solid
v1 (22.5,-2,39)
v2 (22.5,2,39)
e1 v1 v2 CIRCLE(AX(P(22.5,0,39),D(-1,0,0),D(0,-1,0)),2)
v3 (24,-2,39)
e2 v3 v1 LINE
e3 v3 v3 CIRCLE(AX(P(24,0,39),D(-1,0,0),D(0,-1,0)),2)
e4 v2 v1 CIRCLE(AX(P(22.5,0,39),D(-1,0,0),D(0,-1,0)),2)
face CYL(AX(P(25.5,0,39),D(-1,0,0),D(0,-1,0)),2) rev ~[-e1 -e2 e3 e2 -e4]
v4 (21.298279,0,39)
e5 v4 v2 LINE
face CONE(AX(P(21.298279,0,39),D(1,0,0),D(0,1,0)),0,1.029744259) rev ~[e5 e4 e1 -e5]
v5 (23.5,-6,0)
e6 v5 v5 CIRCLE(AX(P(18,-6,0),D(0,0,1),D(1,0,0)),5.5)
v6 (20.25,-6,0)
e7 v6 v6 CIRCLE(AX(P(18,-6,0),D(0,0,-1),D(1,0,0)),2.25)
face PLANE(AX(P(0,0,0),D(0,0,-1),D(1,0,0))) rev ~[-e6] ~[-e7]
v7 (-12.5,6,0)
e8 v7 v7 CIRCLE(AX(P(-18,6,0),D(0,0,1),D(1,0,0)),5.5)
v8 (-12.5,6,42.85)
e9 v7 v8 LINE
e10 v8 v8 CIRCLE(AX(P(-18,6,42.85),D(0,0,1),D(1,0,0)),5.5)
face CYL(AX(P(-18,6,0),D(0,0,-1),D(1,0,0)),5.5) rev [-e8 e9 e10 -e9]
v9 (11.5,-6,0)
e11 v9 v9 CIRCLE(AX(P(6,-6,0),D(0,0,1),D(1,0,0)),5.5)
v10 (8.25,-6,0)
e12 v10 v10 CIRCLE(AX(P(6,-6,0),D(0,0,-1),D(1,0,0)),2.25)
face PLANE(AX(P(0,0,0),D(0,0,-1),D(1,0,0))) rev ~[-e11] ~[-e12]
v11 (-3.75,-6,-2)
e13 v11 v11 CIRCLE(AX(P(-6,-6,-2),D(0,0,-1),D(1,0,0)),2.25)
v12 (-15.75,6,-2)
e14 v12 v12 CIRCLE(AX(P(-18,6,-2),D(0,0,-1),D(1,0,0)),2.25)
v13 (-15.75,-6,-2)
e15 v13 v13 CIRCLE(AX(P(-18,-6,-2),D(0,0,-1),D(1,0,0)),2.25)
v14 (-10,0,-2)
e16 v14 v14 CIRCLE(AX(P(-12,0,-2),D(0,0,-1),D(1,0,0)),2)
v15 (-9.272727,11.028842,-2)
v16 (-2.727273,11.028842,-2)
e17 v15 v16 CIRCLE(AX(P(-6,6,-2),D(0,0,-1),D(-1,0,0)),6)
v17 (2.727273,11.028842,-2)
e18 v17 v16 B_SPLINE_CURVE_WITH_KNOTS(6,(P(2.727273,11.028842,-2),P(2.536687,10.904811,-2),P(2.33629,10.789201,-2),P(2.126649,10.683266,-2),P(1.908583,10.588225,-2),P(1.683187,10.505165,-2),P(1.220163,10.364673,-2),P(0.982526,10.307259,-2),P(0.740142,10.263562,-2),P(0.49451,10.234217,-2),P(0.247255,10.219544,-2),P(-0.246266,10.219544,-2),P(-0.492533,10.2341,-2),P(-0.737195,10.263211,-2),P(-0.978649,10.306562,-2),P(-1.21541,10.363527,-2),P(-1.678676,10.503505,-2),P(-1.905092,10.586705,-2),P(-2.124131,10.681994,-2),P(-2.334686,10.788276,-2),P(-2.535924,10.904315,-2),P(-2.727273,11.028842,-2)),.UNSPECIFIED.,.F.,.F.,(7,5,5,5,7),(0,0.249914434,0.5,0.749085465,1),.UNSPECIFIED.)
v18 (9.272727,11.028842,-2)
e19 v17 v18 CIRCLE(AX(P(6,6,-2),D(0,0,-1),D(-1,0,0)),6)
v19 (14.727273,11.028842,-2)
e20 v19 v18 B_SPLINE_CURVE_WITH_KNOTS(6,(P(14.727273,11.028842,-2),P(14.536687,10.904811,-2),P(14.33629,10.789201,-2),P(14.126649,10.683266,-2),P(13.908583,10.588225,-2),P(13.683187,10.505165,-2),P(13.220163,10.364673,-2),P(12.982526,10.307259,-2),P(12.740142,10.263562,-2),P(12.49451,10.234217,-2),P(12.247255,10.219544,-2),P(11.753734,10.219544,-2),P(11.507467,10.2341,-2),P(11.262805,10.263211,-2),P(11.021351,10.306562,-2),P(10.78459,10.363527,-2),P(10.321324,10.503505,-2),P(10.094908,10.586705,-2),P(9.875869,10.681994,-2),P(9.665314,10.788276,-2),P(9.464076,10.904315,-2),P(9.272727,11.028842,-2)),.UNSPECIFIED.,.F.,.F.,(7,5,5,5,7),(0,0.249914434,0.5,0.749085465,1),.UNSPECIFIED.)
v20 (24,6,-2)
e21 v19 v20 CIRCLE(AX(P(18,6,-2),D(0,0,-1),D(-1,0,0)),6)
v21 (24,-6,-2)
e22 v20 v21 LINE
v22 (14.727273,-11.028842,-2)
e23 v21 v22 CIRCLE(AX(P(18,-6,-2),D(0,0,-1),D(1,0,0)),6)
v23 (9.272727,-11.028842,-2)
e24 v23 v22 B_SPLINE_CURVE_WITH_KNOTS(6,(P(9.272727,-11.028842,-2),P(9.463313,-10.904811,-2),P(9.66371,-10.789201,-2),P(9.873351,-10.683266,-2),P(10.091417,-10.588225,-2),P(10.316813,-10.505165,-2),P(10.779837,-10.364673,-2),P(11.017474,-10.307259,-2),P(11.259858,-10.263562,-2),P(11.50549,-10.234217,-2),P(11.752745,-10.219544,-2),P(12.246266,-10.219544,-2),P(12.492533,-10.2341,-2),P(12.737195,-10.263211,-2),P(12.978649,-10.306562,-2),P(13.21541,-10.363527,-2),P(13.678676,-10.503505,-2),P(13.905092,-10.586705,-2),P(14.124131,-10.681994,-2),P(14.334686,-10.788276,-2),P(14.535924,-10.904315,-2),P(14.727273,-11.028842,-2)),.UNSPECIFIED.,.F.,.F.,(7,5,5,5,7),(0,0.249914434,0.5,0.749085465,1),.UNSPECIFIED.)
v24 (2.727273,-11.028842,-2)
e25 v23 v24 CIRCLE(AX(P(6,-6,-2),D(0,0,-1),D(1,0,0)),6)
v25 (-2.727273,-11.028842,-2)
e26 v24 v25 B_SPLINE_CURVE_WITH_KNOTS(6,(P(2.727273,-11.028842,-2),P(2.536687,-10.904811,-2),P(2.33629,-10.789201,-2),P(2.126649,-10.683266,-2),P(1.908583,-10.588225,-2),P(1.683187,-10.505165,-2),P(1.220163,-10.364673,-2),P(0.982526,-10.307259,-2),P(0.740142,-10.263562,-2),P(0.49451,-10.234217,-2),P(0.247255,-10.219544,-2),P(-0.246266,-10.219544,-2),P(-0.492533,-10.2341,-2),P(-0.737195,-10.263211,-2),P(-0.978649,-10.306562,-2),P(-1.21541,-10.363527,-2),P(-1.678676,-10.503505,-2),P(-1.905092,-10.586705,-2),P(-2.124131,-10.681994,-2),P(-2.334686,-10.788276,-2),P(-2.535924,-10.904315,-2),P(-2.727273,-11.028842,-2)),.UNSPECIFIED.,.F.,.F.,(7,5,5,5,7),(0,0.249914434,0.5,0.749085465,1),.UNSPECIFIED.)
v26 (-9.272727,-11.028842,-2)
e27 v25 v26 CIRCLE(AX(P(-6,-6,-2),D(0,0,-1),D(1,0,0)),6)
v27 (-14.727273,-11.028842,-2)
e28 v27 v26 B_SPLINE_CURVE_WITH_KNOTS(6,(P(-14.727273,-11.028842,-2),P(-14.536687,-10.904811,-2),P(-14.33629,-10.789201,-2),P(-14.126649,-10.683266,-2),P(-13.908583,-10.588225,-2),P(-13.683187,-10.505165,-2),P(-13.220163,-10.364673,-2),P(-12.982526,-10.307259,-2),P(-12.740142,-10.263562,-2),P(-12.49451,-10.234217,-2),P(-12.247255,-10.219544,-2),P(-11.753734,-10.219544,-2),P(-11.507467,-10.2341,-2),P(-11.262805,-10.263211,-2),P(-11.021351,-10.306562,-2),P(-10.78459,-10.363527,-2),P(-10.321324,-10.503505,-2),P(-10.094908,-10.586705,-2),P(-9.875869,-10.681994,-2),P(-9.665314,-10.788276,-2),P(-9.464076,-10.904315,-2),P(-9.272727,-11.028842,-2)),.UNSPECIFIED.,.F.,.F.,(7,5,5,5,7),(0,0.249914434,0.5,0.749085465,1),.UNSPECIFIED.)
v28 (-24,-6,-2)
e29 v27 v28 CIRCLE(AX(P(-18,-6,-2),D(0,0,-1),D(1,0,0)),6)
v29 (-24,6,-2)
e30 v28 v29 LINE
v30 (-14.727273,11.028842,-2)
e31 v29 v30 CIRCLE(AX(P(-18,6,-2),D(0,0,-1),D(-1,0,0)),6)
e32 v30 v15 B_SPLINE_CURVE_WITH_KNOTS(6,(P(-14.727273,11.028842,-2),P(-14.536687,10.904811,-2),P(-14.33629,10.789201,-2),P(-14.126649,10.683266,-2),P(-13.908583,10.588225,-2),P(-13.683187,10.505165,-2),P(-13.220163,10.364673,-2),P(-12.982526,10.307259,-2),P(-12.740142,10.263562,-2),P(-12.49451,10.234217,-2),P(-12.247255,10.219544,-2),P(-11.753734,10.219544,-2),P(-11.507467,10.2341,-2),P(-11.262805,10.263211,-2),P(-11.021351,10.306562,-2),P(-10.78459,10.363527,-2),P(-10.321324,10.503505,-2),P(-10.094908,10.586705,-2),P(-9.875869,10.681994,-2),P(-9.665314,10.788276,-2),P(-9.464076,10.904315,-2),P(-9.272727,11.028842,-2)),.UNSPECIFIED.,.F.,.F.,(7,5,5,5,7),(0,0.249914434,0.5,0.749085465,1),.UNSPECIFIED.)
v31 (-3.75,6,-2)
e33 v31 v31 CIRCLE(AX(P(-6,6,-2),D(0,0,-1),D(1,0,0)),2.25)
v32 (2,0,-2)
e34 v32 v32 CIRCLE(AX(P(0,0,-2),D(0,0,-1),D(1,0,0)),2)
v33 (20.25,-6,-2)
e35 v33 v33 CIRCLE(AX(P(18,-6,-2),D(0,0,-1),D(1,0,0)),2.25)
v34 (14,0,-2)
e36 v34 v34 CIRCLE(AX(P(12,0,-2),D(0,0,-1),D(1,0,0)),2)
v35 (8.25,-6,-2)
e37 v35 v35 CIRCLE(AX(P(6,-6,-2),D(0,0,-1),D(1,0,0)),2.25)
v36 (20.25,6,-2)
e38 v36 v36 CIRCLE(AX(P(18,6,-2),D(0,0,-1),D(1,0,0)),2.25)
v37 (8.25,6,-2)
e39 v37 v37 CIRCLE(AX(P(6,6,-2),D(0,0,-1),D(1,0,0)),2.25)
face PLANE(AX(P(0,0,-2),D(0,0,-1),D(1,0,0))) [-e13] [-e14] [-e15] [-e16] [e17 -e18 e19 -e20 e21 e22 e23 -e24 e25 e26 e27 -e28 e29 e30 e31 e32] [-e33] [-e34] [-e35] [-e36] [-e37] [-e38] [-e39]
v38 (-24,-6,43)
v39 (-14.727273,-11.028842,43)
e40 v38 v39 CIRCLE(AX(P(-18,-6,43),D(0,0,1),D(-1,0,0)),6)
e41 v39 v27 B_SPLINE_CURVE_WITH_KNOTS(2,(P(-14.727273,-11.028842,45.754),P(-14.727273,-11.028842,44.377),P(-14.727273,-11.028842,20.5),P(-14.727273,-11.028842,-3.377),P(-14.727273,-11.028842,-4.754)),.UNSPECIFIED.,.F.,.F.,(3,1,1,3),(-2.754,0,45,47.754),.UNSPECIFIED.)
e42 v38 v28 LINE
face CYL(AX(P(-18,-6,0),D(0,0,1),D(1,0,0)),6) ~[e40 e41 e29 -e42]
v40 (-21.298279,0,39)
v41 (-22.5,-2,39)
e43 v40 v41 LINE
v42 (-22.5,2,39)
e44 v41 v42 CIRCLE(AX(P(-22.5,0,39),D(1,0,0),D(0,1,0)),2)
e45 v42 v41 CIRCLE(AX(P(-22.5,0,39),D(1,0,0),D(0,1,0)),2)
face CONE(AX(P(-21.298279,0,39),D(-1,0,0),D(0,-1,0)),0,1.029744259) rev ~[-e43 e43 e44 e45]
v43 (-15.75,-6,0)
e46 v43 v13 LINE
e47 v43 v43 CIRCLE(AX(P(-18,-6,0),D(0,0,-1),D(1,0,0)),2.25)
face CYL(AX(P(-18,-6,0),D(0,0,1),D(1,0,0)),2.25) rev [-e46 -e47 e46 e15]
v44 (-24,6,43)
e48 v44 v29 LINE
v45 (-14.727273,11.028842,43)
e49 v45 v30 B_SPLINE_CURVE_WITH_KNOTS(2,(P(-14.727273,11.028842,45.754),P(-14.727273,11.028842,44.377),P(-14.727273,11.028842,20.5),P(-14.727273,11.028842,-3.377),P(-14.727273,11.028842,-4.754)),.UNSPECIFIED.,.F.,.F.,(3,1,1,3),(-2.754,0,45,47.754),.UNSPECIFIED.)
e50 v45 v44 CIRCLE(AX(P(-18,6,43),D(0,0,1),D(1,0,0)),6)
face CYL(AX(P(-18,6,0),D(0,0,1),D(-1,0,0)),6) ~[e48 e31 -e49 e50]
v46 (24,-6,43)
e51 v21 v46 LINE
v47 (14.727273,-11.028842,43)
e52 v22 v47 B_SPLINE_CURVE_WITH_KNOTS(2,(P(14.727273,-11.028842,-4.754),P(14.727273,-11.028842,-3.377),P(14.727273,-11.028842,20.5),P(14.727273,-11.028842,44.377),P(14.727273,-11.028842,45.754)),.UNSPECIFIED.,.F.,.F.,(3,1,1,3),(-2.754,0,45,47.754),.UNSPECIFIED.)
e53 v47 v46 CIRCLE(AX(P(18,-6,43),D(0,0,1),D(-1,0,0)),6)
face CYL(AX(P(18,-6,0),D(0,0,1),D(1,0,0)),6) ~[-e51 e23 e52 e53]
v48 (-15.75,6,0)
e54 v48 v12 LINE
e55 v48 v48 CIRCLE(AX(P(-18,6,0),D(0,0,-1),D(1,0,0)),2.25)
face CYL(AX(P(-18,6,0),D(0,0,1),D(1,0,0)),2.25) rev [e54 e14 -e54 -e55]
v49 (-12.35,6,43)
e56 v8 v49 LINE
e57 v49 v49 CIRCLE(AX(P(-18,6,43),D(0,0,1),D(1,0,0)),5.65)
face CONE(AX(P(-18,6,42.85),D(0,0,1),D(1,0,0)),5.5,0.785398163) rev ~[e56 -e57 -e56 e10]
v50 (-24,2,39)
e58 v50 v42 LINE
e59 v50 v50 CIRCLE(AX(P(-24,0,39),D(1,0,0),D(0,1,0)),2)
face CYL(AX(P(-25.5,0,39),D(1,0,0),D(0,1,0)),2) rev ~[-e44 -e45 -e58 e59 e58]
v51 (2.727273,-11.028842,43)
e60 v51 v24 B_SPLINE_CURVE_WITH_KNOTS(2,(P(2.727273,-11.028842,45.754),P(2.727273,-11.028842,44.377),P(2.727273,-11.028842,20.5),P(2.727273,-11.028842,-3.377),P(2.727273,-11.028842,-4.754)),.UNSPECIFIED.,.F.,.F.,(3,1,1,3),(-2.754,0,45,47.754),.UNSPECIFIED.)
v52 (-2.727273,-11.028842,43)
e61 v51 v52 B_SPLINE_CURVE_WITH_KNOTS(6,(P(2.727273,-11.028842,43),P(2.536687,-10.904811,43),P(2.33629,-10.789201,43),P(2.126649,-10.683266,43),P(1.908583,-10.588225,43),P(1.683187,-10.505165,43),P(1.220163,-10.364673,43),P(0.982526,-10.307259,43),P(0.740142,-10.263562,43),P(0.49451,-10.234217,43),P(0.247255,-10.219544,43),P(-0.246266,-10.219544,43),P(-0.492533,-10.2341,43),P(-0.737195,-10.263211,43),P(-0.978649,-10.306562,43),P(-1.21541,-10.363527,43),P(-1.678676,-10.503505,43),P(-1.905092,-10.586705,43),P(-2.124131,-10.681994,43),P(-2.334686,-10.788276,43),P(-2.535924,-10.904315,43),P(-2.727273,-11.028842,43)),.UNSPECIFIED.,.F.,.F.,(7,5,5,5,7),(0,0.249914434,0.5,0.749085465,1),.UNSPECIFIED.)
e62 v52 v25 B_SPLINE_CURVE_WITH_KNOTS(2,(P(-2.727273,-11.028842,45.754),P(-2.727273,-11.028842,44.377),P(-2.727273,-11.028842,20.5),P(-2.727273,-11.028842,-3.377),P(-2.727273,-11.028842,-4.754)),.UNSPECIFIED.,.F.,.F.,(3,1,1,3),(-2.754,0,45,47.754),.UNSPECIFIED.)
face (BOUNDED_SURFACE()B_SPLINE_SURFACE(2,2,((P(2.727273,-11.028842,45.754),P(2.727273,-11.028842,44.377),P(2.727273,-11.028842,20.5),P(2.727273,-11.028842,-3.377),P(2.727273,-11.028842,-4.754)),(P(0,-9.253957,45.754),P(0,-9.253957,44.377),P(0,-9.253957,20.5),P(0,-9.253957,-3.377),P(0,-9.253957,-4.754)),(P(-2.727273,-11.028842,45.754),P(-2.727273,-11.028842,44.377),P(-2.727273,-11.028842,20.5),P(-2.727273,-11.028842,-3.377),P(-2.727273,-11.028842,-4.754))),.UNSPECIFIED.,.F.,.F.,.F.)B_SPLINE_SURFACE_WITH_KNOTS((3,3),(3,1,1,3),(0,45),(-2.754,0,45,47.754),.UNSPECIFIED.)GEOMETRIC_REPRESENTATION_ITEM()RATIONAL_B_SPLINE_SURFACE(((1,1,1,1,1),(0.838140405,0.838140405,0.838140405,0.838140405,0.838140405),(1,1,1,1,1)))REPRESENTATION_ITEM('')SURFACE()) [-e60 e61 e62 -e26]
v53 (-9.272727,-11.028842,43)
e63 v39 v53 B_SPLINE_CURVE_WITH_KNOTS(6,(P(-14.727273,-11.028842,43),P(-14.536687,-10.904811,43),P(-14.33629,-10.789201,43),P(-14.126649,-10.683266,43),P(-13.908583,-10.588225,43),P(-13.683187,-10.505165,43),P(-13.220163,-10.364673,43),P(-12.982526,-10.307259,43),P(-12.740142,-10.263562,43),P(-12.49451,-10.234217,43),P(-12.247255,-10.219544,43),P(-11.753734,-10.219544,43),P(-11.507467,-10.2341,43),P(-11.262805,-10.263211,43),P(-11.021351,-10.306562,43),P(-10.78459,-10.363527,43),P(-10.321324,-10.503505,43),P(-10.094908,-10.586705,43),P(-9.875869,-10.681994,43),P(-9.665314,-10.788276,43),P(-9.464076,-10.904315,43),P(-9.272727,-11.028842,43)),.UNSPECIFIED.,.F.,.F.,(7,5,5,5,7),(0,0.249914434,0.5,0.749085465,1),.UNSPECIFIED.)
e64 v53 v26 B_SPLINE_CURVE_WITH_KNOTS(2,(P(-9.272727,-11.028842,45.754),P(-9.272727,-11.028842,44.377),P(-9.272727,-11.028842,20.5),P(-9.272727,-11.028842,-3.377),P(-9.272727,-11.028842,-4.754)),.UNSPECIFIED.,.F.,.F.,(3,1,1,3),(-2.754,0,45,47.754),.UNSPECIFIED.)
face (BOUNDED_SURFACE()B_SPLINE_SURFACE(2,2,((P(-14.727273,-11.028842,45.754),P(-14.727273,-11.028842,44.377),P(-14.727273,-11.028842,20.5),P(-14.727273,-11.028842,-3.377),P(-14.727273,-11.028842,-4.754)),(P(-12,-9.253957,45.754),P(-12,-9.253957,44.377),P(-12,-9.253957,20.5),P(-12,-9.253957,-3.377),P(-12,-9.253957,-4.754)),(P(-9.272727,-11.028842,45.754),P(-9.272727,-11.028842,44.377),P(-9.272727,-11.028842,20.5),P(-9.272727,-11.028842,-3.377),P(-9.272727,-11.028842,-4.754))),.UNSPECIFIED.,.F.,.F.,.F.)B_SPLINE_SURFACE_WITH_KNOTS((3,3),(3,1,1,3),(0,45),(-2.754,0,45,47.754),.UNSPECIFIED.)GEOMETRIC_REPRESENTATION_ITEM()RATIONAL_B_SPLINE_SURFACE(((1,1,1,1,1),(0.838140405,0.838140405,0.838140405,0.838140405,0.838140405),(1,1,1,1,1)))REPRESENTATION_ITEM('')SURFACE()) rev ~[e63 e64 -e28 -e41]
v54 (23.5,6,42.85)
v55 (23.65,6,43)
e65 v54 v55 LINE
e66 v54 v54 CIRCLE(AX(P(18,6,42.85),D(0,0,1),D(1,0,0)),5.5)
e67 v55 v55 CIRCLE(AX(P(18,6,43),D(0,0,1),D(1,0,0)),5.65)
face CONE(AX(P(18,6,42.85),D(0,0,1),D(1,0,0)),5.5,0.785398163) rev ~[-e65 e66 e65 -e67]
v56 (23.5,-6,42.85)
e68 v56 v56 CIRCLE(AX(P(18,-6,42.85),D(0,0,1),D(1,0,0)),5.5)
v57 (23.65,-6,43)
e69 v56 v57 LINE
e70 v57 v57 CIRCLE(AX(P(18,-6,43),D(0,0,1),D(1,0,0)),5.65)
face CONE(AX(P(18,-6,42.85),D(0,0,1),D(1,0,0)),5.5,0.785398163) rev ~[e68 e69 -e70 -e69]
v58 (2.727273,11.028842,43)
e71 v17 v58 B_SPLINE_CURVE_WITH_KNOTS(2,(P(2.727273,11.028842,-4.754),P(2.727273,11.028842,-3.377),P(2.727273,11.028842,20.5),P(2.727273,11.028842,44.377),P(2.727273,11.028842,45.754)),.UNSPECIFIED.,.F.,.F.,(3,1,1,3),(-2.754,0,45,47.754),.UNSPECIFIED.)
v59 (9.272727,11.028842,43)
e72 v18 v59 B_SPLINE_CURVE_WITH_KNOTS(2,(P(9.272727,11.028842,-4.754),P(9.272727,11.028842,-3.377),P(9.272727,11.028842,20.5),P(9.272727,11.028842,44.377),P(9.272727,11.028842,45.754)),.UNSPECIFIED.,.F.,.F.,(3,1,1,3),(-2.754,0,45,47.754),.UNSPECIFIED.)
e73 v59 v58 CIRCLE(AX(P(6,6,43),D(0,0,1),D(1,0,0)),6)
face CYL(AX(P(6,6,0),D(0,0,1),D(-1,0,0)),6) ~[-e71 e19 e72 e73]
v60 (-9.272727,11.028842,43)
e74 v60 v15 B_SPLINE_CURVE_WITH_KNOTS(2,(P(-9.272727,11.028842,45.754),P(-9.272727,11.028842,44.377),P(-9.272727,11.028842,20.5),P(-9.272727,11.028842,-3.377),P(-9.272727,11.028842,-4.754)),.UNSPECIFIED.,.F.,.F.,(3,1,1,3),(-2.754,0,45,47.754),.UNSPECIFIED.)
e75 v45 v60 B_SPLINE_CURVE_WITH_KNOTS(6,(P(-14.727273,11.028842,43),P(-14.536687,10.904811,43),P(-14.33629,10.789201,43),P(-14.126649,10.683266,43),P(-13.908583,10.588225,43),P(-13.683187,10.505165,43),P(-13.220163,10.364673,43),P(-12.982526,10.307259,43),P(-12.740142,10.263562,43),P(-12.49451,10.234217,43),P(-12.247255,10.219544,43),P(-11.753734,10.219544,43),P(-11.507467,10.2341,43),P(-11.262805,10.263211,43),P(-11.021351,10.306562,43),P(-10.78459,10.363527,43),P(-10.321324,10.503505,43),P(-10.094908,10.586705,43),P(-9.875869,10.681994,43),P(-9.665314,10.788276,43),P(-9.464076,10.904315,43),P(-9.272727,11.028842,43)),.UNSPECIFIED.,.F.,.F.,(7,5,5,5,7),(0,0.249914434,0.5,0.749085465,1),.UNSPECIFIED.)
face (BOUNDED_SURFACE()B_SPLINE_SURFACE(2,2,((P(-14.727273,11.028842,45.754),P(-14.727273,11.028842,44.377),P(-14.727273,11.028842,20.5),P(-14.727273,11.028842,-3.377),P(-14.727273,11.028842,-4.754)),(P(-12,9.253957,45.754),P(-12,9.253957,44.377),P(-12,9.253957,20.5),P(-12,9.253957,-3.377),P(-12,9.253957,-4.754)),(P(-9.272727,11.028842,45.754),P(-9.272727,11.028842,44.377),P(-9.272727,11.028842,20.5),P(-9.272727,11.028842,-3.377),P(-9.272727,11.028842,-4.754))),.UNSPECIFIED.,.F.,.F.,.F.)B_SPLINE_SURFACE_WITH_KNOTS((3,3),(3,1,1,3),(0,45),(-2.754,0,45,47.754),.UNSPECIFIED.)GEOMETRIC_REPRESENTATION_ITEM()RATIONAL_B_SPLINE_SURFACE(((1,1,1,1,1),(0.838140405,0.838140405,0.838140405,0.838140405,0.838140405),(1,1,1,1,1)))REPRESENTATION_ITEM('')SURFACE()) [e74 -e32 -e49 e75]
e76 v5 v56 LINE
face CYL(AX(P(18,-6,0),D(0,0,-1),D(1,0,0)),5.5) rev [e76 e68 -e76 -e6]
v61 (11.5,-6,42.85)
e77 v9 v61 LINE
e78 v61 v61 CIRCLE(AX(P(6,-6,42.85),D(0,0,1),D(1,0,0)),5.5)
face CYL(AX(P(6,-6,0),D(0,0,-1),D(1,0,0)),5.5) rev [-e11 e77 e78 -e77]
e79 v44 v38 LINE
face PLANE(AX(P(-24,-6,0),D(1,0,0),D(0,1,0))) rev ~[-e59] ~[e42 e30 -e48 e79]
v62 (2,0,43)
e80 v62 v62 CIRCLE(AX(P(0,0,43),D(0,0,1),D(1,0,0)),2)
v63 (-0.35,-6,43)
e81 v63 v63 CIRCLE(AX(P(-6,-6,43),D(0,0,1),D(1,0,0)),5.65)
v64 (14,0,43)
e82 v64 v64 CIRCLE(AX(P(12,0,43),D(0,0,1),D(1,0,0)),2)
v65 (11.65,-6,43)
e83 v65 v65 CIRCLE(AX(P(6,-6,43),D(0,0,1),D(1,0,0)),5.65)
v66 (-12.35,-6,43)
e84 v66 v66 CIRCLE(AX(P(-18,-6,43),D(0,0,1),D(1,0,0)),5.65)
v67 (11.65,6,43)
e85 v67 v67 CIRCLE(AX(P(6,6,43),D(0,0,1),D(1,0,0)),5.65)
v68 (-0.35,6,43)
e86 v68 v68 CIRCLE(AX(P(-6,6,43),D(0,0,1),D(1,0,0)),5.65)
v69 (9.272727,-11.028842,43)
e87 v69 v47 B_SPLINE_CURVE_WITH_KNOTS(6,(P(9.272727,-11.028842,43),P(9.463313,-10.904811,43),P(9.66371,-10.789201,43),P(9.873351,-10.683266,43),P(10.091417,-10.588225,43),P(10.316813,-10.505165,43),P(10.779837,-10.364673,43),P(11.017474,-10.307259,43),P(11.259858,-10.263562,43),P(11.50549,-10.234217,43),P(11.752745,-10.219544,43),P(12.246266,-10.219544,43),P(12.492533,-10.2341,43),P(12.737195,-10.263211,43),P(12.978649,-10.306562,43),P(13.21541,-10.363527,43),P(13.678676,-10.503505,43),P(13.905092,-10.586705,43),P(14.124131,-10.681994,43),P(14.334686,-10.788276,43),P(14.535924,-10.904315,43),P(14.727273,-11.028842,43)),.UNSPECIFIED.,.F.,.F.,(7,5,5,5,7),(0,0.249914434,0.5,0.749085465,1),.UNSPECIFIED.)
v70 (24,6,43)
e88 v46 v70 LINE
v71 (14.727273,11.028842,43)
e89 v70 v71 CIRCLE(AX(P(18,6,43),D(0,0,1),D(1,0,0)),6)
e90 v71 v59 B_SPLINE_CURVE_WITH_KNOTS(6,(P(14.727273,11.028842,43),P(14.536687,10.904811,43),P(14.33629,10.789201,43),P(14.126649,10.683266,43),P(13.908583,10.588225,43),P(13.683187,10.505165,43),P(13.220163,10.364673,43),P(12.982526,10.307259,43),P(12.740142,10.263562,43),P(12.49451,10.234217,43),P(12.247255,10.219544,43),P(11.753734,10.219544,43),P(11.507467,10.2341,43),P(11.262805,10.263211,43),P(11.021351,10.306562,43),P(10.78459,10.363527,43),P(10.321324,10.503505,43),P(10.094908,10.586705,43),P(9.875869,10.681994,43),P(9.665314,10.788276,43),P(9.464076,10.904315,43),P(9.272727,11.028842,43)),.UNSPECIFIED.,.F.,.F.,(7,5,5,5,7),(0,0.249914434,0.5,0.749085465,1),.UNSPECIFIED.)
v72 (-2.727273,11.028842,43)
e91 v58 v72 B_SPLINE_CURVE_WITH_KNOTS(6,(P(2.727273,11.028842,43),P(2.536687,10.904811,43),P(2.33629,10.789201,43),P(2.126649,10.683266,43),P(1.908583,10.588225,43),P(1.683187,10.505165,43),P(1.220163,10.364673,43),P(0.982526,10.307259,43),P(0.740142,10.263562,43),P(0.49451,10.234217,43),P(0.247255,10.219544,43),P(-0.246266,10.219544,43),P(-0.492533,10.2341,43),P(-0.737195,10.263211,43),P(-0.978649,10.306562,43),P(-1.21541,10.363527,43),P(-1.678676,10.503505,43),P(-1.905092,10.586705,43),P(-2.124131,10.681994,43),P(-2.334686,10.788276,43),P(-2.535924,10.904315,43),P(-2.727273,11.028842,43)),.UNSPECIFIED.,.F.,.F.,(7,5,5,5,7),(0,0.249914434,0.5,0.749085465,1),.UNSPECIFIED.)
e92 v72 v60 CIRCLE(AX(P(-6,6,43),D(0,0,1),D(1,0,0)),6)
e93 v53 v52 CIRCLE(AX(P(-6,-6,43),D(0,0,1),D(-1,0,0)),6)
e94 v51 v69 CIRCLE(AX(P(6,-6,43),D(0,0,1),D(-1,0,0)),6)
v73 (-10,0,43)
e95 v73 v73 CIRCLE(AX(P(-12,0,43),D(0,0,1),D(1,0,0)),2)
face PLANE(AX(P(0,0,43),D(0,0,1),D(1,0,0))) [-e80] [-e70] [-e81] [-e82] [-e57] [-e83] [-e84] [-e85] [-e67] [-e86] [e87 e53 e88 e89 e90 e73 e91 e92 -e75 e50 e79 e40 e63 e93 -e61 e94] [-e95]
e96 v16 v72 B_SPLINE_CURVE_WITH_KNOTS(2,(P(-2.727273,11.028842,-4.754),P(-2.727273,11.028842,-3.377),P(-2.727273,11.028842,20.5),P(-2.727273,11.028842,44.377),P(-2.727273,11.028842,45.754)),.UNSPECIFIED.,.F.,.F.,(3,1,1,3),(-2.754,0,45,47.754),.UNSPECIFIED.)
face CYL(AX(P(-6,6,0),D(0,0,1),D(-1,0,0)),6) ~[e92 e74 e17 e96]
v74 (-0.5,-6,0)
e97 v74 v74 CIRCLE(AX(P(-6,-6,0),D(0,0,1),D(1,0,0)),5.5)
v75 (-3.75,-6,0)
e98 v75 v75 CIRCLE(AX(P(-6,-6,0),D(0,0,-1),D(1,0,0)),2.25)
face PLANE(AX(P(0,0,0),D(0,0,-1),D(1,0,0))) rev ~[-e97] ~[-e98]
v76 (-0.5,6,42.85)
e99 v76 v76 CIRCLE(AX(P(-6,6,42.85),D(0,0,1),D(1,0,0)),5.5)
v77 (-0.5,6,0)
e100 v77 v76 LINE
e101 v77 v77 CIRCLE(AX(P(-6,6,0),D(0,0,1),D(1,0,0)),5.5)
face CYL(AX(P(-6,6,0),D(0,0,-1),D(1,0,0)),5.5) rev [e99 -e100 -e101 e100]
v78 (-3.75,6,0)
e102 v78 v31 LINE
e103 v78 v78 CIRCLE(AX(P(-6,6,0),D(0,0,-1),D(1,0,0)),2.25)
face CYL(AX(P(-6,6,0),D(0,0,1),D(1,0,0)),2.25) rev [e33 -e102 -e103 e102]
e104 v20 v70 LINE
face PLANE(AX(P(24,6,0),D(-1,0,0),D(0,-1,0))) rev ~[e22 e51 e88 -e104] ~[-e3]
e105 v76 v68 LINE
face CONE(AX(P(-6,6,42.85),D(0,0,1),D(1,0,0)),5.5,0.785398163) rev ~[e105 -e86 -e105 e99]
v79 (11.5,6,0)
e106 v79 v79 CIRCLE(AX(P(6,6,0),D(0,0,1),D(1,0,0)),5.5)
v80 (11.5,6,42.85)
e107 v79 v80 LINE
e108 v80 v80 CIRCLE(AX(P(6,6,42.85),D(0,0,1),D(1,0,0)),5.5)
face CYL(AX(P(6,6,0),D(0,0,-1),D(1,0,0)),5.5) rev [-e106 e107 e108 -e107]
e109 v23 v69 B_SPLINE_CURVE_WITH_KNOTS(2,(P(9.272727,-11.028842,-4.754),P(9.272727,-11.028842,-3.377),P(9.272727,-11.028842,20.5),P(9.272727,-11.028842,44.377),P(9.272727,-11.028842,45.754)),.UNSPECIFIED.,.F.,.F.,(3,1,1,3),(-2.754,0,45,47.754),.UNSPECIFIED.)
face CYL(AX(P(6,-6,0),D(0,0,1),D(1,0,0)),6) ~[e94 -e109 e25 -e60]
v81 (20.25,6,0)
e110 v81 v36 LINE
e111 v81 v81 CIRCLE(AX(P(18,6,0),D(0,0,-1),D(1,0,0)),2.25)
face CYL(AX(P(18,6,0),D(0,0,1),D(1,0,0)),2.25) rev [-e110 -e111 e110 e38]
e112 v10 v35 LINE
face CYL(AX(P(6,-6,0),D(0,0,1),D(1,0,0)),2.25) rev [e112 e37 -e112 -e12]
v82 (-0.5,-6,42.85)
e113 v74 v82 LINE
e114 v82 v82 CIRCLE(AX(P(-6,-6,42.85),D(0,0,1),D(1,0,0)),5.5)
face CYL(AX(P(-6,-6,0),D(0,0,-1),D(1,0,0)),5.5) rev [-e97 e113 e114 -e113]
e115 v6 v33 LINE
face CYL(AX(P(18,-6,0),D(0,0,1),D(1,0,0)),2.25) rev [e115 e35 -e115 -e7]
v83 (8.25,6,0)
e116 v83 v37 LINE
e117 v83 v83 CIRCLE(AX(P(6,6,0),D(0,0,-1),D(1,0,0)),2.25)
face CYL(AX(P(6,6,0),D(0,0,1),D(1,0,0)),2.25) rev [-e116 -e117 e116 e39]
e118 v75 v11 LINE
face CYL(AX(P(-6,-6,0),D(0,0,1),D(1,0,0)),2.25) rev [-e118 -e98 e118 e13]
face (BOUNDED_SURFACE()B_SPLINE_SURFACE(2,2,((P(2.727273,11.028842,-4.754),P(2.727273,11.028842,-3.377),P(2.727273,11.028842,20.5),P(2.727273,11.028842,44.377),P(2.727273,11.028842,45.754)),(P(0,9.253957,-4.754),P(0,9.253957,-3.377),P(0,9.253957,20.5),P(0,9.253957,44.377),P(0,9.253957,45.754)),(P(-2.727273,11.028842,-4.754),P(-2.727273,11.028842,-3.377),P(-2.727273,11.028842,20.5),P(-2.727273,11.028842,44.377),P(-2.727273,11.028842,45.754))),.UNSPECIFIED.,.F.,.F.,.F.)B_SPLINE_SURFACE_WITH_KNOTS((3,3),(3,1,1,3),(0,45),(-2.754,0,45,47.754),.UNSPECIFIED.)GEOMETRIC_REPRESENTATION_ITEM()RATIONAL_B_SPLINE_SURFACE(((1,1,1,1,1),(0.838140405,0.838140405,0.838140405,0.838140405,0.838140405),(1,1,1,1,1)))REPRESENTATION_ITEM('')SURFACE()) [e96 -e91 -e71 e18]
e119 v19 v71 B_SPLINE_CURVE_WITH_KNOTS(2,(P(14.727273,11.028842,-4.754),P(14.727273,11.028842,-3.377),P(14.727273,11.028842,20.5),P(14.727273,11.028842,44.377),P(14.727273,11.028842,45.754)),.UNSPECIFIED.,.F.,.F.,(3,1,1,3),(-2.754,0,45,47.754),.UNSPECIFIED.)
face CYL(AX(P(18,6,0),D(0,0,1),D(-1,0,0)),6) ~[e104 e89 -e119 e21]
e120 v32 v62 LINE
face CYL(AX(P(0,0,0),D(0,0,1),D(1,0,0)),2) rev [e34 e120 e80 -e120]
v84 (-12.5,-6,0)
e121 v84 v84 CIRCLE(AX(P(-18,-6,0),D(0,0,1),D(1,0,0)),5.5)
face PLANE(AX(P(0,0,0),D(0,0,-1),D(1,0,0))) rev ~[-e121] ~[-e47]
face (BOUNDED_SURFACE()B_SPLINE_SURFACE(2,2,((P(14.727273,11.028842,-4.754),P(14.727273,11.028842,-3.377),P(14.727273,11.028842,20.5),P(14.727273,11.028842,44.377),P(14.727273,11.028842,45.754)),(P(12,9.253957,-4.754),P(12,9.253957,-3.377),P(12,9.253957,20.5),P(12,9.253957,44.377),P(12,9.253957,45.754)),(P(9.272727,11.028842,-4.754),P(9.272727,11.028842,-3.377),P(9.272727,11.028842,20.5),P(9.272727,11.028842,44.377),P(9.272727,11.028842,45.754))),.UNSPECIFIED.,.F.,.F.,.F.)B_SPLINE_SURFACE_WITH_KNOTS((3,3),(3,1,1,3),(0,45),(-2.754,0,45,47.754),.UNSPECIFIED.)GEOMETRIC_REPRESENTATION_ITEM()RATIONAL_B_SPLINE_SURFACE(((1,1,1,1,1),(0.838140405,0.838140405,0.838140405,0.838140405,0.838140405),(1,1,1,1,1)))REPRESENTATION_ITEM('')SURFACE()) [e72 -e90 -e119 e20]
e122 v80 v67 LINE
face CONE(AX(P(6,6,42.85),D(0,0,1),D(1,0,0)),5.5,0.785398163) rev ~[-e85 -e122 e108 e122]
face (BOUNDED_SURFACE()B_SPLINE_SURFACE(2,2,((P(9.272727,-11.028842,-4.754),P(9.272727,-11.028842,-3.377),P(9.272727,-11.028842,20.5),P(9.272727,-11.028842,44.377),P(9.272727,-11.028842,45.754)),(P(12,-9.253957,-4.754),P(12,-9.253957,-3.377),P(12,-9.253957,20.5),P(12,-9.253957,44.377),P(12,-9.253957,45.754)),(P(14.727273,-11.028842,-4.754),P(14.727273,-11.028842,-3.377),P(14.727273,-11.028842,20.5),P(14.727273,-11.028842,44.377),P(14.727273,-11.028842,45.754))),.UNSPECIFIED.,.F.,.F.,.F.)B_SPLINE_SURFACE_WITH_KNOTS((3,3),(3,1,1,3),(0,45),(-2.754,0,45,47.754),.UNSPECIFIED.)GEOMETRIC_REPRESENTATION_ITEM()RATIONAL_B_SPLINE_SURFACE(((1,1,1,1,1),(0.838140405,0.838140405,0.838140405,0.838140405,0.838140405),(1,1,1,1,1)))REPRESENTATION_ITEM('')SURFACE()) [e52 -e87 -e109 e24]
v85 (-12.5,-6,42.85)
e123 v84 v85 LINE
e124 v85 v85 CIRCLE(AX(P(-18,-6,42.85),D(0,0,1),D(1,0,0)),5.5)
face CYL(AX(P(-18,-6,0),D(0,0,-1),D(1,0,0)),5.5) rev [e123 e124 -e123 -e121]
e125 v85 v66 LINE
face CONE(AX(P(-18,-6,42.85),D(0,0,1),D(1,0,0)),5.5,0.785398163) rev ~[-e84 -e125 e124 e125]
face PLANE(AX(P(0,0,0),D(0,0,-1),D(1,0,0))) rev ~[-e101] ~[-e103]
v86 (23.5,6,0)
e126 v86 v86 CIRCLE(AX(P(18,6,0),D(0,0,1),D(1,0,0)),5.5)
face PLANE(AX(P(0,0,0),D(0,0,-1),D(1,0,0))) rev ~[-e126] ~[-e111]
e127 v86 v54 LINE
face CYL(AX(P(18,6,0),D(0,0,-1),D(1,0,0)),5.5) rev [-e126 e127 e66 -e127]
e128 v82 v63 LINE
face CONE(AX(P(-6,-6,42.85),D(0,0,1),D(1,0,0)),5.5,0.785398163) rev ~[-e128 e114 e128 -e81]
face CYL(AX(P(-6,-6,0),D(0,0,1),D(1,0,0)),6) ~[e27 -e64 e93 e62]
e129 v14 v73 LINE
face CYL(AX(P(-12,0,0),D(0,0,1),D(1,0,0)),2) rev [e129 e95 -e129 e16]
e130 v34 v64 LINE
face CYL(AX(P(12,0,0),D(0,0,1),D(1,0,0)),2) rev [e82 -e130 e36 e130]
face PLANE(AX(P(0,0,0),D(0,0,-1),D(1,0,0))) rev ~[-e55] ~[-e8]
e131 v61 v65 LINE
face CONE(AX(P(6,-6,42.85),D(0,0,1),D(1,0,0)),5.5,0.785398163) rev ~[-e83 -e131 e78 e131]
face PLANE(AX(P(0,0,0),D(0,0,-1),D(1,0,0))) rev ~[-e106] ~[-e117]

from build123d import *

# Parameters (mm, degrees)
F0_R           = 5.5
F0_R_2         = 2
F1_DEPTH       = 43
F3_SIZE        = 0.15
F2_R           = 2.25
F2_R_2         = 2
F5_DEPTH       = 2
F6_R           = 5
F8_D           = 4
F8_DEPTH       = 1.5
F8_TIP         = 1.2017212381
F8_ON_F4_D     = 4
F8_ON_F4_DEPTH = 1.5
F8_ON_F4_TIP   = 1.2017212381


with BuildPart() as f1:
    # F0 (on Top) → F1 (new body)
    with BuildSketch(Plane.XY):
        with BuildLine():
            ThreePointArc((0, 6), (-6, 12), (-12, 6))
            ThreePointArc((-12, 6), (-18, 12), (-24, 6))
            Line((-24, 6), (-24, -6))
            ThreePointArc((-24, -6), (-18, -12), (-12, -6))
            ThreePointArc((-12, -6), (-6, -12), (0, -6))
            ThreePointArc((0, -6), (6, -12), (12, -6))
            ThreePointArc((12, -6), (18, -12), (24, -6))
            Line((24, -6), (24, 6))
            ThreePointArc((24, 6), (18, 12), (12, 6))
            ThreePointArc((12, 6), (6, 12), (0, 6))
        make_face()
        with Locations((-18, -6)):
            Circle(F0_R, mode=Mode.SUBTRACT)
        with Locations((-6, -6)):
            Circle(F0_R, mode=Mode.SUBTRACT)
        with Locations((6, -6)):
            Circle(F0_R, mode=Mode.SUBTRACT)
        with Locations((18, -6)):
            Circle(F0_R, mode=Mode.SUBTRACT)
        with Locations((-12, 0)):
            Circle(F0_R_2, mode=Mode.SUBTRACT)
        with Locations((-18, 6)):
            Circle(F0_R, mode=Mode.SUBTRACT)
        with Locations((-6, 6)):
            Circle(F0_R, mode=Mode.SUBTRACT)
        Circle(F0_R_2, mode=Mode.SUBTRACT)
        with Locations((12, 0)):
            Circle(F0_R_2, mode=Mode.SUBTRACT)
        with Locations((6, 6)):
            Circle(F0_R, mode=Mode.SUBTRACT)
        with Locations((18, 6)):
            Circle(F0_R, mode=Mode.SUBTRACT)
    extrude(amount=F1_DEPTH)

    # F3
    f3_edges = [f1.edges().sort_by_distance(p)[0] for p in [
        (-23.5, 6, 43),
        (-11.5, 6, 43),
        (0.5, 6, 43),
        (12.5, 6, 43),
        (12.5, -6, 43),
        (0.5, -6, 43),
        (-11.5, -6, 43),
        (-23.5, -6, 43),
    ]]
    chamfer(f3_edges, length=F3_SIZE)

    # F2 (on face) → F5 (join)
    with BuildSketch(Plane(origin=(0, 0, 0), x_dir=(1, 0, 0), z_dir=(0, 0, -1))):
        with BuildLine():
            ThreePointArc((12, 6), (6, 12), (0, 6))
            ThreePointArc((0, 6), (-6, 12), (-12, 6))
            ThreePointArc((-12, 6), (-18, 12), (-24, 6))
            Line((-24, 6), (-24, -6))
            ThreePointArc((-24, -6), (-18, -12), (-12, -6))
            ThreePointArc((-12, -6), (-6, -12), (0, -6))
            ThreePointArc((0, -6), (6, -12), (12, -6))
            ThreePointArc((12, -6), (18, -12), (24, -6))
            Line((24, -6), (24, 6))
            ThreePointArc((24, 6), (18, 12), (12, 6))
        make_face()
        with Locations((-18, -6)):
            Circle(F2_R, mode=Mode.SUBTRACT)
        with Locations((-6, -6)):
            Circle(F2_R, mode=Mode.SUBTRACT)
        with Locations((6, -6)):
            Circle(F2_R, mode=Mode.SUBTRACT)
        with Locations((18, -6)):
            Circle(F2_R, mode=Mode.SUBTRACT)
        with Locations((-12, 0)):
            Circle(F2_R_2, mode=Mode.SUBTRACT)
        with Locations((-18, 6)):
            Circle(F2_R, mode=Mode.SUBTRACT)
        with Locations((-6, 6)):
            Circle(F2_R, mode=Mode.SUBTRACT)
        Circle(F2_R_2, mode=Mode.SUBTRACT)
        with Locations((12, 0)):
            Circle(F2_R_2, mode=Mode.SUBTRACT)
        with Locations((6, 6)):
            Circle(F2_R, mode=Mode.SUBTRACT)
        with Locations((18, 6)):
            Circle(F2_R, mode=Mode.SUBTRACT)
    extrude(amount=F5_DEPTH)

    # F6
    f6_edges = [f1.edges().sort_by_distance(p)[0] for p in [
        (12, -6, 20.5),
        (0, -6, 20.5),
        (-12, -6, 20.5),
        (12, 6, 20.5),
        (0, 6, 20.5),
        (-12, 6, 20.5),
    ]]
    fillet(f6_edges, radius=F6_R)

    # F8
    with Locations(Plane.YZ.offset(24)):
        with Locations((0, 39)):
            Hole(F8_D / 2, depth=F8_DEPTH)
            with Locations((0, 0, -(F8_DEPTH + F8_TIP / 2))):  # 118° drill point
                Cone(0, F8_D / 2, F8_TIP, mode=Mode.SUBTRACT)

    # F8 on F4
    with Locations(Plane(origin=(-24, 0, 0), x_dir=(0, -1, 0), z_dir=(-1, 0, 0))):
        with Locations((0, 39)):
            Hole(F8_ON_F4_D / 2, depth=F8_ON_F4_DEPTH)
            with Locations((0, 0, -(F8_ON_F4_DEPTH + F8_ON_F4_TIP / 2))):  # 118° drill point
                Cone(0, F8_ON_F4_D / 2, F8_ON_F4_TIP, mode=Mode.SUBTRACT)


solid = f1.part
